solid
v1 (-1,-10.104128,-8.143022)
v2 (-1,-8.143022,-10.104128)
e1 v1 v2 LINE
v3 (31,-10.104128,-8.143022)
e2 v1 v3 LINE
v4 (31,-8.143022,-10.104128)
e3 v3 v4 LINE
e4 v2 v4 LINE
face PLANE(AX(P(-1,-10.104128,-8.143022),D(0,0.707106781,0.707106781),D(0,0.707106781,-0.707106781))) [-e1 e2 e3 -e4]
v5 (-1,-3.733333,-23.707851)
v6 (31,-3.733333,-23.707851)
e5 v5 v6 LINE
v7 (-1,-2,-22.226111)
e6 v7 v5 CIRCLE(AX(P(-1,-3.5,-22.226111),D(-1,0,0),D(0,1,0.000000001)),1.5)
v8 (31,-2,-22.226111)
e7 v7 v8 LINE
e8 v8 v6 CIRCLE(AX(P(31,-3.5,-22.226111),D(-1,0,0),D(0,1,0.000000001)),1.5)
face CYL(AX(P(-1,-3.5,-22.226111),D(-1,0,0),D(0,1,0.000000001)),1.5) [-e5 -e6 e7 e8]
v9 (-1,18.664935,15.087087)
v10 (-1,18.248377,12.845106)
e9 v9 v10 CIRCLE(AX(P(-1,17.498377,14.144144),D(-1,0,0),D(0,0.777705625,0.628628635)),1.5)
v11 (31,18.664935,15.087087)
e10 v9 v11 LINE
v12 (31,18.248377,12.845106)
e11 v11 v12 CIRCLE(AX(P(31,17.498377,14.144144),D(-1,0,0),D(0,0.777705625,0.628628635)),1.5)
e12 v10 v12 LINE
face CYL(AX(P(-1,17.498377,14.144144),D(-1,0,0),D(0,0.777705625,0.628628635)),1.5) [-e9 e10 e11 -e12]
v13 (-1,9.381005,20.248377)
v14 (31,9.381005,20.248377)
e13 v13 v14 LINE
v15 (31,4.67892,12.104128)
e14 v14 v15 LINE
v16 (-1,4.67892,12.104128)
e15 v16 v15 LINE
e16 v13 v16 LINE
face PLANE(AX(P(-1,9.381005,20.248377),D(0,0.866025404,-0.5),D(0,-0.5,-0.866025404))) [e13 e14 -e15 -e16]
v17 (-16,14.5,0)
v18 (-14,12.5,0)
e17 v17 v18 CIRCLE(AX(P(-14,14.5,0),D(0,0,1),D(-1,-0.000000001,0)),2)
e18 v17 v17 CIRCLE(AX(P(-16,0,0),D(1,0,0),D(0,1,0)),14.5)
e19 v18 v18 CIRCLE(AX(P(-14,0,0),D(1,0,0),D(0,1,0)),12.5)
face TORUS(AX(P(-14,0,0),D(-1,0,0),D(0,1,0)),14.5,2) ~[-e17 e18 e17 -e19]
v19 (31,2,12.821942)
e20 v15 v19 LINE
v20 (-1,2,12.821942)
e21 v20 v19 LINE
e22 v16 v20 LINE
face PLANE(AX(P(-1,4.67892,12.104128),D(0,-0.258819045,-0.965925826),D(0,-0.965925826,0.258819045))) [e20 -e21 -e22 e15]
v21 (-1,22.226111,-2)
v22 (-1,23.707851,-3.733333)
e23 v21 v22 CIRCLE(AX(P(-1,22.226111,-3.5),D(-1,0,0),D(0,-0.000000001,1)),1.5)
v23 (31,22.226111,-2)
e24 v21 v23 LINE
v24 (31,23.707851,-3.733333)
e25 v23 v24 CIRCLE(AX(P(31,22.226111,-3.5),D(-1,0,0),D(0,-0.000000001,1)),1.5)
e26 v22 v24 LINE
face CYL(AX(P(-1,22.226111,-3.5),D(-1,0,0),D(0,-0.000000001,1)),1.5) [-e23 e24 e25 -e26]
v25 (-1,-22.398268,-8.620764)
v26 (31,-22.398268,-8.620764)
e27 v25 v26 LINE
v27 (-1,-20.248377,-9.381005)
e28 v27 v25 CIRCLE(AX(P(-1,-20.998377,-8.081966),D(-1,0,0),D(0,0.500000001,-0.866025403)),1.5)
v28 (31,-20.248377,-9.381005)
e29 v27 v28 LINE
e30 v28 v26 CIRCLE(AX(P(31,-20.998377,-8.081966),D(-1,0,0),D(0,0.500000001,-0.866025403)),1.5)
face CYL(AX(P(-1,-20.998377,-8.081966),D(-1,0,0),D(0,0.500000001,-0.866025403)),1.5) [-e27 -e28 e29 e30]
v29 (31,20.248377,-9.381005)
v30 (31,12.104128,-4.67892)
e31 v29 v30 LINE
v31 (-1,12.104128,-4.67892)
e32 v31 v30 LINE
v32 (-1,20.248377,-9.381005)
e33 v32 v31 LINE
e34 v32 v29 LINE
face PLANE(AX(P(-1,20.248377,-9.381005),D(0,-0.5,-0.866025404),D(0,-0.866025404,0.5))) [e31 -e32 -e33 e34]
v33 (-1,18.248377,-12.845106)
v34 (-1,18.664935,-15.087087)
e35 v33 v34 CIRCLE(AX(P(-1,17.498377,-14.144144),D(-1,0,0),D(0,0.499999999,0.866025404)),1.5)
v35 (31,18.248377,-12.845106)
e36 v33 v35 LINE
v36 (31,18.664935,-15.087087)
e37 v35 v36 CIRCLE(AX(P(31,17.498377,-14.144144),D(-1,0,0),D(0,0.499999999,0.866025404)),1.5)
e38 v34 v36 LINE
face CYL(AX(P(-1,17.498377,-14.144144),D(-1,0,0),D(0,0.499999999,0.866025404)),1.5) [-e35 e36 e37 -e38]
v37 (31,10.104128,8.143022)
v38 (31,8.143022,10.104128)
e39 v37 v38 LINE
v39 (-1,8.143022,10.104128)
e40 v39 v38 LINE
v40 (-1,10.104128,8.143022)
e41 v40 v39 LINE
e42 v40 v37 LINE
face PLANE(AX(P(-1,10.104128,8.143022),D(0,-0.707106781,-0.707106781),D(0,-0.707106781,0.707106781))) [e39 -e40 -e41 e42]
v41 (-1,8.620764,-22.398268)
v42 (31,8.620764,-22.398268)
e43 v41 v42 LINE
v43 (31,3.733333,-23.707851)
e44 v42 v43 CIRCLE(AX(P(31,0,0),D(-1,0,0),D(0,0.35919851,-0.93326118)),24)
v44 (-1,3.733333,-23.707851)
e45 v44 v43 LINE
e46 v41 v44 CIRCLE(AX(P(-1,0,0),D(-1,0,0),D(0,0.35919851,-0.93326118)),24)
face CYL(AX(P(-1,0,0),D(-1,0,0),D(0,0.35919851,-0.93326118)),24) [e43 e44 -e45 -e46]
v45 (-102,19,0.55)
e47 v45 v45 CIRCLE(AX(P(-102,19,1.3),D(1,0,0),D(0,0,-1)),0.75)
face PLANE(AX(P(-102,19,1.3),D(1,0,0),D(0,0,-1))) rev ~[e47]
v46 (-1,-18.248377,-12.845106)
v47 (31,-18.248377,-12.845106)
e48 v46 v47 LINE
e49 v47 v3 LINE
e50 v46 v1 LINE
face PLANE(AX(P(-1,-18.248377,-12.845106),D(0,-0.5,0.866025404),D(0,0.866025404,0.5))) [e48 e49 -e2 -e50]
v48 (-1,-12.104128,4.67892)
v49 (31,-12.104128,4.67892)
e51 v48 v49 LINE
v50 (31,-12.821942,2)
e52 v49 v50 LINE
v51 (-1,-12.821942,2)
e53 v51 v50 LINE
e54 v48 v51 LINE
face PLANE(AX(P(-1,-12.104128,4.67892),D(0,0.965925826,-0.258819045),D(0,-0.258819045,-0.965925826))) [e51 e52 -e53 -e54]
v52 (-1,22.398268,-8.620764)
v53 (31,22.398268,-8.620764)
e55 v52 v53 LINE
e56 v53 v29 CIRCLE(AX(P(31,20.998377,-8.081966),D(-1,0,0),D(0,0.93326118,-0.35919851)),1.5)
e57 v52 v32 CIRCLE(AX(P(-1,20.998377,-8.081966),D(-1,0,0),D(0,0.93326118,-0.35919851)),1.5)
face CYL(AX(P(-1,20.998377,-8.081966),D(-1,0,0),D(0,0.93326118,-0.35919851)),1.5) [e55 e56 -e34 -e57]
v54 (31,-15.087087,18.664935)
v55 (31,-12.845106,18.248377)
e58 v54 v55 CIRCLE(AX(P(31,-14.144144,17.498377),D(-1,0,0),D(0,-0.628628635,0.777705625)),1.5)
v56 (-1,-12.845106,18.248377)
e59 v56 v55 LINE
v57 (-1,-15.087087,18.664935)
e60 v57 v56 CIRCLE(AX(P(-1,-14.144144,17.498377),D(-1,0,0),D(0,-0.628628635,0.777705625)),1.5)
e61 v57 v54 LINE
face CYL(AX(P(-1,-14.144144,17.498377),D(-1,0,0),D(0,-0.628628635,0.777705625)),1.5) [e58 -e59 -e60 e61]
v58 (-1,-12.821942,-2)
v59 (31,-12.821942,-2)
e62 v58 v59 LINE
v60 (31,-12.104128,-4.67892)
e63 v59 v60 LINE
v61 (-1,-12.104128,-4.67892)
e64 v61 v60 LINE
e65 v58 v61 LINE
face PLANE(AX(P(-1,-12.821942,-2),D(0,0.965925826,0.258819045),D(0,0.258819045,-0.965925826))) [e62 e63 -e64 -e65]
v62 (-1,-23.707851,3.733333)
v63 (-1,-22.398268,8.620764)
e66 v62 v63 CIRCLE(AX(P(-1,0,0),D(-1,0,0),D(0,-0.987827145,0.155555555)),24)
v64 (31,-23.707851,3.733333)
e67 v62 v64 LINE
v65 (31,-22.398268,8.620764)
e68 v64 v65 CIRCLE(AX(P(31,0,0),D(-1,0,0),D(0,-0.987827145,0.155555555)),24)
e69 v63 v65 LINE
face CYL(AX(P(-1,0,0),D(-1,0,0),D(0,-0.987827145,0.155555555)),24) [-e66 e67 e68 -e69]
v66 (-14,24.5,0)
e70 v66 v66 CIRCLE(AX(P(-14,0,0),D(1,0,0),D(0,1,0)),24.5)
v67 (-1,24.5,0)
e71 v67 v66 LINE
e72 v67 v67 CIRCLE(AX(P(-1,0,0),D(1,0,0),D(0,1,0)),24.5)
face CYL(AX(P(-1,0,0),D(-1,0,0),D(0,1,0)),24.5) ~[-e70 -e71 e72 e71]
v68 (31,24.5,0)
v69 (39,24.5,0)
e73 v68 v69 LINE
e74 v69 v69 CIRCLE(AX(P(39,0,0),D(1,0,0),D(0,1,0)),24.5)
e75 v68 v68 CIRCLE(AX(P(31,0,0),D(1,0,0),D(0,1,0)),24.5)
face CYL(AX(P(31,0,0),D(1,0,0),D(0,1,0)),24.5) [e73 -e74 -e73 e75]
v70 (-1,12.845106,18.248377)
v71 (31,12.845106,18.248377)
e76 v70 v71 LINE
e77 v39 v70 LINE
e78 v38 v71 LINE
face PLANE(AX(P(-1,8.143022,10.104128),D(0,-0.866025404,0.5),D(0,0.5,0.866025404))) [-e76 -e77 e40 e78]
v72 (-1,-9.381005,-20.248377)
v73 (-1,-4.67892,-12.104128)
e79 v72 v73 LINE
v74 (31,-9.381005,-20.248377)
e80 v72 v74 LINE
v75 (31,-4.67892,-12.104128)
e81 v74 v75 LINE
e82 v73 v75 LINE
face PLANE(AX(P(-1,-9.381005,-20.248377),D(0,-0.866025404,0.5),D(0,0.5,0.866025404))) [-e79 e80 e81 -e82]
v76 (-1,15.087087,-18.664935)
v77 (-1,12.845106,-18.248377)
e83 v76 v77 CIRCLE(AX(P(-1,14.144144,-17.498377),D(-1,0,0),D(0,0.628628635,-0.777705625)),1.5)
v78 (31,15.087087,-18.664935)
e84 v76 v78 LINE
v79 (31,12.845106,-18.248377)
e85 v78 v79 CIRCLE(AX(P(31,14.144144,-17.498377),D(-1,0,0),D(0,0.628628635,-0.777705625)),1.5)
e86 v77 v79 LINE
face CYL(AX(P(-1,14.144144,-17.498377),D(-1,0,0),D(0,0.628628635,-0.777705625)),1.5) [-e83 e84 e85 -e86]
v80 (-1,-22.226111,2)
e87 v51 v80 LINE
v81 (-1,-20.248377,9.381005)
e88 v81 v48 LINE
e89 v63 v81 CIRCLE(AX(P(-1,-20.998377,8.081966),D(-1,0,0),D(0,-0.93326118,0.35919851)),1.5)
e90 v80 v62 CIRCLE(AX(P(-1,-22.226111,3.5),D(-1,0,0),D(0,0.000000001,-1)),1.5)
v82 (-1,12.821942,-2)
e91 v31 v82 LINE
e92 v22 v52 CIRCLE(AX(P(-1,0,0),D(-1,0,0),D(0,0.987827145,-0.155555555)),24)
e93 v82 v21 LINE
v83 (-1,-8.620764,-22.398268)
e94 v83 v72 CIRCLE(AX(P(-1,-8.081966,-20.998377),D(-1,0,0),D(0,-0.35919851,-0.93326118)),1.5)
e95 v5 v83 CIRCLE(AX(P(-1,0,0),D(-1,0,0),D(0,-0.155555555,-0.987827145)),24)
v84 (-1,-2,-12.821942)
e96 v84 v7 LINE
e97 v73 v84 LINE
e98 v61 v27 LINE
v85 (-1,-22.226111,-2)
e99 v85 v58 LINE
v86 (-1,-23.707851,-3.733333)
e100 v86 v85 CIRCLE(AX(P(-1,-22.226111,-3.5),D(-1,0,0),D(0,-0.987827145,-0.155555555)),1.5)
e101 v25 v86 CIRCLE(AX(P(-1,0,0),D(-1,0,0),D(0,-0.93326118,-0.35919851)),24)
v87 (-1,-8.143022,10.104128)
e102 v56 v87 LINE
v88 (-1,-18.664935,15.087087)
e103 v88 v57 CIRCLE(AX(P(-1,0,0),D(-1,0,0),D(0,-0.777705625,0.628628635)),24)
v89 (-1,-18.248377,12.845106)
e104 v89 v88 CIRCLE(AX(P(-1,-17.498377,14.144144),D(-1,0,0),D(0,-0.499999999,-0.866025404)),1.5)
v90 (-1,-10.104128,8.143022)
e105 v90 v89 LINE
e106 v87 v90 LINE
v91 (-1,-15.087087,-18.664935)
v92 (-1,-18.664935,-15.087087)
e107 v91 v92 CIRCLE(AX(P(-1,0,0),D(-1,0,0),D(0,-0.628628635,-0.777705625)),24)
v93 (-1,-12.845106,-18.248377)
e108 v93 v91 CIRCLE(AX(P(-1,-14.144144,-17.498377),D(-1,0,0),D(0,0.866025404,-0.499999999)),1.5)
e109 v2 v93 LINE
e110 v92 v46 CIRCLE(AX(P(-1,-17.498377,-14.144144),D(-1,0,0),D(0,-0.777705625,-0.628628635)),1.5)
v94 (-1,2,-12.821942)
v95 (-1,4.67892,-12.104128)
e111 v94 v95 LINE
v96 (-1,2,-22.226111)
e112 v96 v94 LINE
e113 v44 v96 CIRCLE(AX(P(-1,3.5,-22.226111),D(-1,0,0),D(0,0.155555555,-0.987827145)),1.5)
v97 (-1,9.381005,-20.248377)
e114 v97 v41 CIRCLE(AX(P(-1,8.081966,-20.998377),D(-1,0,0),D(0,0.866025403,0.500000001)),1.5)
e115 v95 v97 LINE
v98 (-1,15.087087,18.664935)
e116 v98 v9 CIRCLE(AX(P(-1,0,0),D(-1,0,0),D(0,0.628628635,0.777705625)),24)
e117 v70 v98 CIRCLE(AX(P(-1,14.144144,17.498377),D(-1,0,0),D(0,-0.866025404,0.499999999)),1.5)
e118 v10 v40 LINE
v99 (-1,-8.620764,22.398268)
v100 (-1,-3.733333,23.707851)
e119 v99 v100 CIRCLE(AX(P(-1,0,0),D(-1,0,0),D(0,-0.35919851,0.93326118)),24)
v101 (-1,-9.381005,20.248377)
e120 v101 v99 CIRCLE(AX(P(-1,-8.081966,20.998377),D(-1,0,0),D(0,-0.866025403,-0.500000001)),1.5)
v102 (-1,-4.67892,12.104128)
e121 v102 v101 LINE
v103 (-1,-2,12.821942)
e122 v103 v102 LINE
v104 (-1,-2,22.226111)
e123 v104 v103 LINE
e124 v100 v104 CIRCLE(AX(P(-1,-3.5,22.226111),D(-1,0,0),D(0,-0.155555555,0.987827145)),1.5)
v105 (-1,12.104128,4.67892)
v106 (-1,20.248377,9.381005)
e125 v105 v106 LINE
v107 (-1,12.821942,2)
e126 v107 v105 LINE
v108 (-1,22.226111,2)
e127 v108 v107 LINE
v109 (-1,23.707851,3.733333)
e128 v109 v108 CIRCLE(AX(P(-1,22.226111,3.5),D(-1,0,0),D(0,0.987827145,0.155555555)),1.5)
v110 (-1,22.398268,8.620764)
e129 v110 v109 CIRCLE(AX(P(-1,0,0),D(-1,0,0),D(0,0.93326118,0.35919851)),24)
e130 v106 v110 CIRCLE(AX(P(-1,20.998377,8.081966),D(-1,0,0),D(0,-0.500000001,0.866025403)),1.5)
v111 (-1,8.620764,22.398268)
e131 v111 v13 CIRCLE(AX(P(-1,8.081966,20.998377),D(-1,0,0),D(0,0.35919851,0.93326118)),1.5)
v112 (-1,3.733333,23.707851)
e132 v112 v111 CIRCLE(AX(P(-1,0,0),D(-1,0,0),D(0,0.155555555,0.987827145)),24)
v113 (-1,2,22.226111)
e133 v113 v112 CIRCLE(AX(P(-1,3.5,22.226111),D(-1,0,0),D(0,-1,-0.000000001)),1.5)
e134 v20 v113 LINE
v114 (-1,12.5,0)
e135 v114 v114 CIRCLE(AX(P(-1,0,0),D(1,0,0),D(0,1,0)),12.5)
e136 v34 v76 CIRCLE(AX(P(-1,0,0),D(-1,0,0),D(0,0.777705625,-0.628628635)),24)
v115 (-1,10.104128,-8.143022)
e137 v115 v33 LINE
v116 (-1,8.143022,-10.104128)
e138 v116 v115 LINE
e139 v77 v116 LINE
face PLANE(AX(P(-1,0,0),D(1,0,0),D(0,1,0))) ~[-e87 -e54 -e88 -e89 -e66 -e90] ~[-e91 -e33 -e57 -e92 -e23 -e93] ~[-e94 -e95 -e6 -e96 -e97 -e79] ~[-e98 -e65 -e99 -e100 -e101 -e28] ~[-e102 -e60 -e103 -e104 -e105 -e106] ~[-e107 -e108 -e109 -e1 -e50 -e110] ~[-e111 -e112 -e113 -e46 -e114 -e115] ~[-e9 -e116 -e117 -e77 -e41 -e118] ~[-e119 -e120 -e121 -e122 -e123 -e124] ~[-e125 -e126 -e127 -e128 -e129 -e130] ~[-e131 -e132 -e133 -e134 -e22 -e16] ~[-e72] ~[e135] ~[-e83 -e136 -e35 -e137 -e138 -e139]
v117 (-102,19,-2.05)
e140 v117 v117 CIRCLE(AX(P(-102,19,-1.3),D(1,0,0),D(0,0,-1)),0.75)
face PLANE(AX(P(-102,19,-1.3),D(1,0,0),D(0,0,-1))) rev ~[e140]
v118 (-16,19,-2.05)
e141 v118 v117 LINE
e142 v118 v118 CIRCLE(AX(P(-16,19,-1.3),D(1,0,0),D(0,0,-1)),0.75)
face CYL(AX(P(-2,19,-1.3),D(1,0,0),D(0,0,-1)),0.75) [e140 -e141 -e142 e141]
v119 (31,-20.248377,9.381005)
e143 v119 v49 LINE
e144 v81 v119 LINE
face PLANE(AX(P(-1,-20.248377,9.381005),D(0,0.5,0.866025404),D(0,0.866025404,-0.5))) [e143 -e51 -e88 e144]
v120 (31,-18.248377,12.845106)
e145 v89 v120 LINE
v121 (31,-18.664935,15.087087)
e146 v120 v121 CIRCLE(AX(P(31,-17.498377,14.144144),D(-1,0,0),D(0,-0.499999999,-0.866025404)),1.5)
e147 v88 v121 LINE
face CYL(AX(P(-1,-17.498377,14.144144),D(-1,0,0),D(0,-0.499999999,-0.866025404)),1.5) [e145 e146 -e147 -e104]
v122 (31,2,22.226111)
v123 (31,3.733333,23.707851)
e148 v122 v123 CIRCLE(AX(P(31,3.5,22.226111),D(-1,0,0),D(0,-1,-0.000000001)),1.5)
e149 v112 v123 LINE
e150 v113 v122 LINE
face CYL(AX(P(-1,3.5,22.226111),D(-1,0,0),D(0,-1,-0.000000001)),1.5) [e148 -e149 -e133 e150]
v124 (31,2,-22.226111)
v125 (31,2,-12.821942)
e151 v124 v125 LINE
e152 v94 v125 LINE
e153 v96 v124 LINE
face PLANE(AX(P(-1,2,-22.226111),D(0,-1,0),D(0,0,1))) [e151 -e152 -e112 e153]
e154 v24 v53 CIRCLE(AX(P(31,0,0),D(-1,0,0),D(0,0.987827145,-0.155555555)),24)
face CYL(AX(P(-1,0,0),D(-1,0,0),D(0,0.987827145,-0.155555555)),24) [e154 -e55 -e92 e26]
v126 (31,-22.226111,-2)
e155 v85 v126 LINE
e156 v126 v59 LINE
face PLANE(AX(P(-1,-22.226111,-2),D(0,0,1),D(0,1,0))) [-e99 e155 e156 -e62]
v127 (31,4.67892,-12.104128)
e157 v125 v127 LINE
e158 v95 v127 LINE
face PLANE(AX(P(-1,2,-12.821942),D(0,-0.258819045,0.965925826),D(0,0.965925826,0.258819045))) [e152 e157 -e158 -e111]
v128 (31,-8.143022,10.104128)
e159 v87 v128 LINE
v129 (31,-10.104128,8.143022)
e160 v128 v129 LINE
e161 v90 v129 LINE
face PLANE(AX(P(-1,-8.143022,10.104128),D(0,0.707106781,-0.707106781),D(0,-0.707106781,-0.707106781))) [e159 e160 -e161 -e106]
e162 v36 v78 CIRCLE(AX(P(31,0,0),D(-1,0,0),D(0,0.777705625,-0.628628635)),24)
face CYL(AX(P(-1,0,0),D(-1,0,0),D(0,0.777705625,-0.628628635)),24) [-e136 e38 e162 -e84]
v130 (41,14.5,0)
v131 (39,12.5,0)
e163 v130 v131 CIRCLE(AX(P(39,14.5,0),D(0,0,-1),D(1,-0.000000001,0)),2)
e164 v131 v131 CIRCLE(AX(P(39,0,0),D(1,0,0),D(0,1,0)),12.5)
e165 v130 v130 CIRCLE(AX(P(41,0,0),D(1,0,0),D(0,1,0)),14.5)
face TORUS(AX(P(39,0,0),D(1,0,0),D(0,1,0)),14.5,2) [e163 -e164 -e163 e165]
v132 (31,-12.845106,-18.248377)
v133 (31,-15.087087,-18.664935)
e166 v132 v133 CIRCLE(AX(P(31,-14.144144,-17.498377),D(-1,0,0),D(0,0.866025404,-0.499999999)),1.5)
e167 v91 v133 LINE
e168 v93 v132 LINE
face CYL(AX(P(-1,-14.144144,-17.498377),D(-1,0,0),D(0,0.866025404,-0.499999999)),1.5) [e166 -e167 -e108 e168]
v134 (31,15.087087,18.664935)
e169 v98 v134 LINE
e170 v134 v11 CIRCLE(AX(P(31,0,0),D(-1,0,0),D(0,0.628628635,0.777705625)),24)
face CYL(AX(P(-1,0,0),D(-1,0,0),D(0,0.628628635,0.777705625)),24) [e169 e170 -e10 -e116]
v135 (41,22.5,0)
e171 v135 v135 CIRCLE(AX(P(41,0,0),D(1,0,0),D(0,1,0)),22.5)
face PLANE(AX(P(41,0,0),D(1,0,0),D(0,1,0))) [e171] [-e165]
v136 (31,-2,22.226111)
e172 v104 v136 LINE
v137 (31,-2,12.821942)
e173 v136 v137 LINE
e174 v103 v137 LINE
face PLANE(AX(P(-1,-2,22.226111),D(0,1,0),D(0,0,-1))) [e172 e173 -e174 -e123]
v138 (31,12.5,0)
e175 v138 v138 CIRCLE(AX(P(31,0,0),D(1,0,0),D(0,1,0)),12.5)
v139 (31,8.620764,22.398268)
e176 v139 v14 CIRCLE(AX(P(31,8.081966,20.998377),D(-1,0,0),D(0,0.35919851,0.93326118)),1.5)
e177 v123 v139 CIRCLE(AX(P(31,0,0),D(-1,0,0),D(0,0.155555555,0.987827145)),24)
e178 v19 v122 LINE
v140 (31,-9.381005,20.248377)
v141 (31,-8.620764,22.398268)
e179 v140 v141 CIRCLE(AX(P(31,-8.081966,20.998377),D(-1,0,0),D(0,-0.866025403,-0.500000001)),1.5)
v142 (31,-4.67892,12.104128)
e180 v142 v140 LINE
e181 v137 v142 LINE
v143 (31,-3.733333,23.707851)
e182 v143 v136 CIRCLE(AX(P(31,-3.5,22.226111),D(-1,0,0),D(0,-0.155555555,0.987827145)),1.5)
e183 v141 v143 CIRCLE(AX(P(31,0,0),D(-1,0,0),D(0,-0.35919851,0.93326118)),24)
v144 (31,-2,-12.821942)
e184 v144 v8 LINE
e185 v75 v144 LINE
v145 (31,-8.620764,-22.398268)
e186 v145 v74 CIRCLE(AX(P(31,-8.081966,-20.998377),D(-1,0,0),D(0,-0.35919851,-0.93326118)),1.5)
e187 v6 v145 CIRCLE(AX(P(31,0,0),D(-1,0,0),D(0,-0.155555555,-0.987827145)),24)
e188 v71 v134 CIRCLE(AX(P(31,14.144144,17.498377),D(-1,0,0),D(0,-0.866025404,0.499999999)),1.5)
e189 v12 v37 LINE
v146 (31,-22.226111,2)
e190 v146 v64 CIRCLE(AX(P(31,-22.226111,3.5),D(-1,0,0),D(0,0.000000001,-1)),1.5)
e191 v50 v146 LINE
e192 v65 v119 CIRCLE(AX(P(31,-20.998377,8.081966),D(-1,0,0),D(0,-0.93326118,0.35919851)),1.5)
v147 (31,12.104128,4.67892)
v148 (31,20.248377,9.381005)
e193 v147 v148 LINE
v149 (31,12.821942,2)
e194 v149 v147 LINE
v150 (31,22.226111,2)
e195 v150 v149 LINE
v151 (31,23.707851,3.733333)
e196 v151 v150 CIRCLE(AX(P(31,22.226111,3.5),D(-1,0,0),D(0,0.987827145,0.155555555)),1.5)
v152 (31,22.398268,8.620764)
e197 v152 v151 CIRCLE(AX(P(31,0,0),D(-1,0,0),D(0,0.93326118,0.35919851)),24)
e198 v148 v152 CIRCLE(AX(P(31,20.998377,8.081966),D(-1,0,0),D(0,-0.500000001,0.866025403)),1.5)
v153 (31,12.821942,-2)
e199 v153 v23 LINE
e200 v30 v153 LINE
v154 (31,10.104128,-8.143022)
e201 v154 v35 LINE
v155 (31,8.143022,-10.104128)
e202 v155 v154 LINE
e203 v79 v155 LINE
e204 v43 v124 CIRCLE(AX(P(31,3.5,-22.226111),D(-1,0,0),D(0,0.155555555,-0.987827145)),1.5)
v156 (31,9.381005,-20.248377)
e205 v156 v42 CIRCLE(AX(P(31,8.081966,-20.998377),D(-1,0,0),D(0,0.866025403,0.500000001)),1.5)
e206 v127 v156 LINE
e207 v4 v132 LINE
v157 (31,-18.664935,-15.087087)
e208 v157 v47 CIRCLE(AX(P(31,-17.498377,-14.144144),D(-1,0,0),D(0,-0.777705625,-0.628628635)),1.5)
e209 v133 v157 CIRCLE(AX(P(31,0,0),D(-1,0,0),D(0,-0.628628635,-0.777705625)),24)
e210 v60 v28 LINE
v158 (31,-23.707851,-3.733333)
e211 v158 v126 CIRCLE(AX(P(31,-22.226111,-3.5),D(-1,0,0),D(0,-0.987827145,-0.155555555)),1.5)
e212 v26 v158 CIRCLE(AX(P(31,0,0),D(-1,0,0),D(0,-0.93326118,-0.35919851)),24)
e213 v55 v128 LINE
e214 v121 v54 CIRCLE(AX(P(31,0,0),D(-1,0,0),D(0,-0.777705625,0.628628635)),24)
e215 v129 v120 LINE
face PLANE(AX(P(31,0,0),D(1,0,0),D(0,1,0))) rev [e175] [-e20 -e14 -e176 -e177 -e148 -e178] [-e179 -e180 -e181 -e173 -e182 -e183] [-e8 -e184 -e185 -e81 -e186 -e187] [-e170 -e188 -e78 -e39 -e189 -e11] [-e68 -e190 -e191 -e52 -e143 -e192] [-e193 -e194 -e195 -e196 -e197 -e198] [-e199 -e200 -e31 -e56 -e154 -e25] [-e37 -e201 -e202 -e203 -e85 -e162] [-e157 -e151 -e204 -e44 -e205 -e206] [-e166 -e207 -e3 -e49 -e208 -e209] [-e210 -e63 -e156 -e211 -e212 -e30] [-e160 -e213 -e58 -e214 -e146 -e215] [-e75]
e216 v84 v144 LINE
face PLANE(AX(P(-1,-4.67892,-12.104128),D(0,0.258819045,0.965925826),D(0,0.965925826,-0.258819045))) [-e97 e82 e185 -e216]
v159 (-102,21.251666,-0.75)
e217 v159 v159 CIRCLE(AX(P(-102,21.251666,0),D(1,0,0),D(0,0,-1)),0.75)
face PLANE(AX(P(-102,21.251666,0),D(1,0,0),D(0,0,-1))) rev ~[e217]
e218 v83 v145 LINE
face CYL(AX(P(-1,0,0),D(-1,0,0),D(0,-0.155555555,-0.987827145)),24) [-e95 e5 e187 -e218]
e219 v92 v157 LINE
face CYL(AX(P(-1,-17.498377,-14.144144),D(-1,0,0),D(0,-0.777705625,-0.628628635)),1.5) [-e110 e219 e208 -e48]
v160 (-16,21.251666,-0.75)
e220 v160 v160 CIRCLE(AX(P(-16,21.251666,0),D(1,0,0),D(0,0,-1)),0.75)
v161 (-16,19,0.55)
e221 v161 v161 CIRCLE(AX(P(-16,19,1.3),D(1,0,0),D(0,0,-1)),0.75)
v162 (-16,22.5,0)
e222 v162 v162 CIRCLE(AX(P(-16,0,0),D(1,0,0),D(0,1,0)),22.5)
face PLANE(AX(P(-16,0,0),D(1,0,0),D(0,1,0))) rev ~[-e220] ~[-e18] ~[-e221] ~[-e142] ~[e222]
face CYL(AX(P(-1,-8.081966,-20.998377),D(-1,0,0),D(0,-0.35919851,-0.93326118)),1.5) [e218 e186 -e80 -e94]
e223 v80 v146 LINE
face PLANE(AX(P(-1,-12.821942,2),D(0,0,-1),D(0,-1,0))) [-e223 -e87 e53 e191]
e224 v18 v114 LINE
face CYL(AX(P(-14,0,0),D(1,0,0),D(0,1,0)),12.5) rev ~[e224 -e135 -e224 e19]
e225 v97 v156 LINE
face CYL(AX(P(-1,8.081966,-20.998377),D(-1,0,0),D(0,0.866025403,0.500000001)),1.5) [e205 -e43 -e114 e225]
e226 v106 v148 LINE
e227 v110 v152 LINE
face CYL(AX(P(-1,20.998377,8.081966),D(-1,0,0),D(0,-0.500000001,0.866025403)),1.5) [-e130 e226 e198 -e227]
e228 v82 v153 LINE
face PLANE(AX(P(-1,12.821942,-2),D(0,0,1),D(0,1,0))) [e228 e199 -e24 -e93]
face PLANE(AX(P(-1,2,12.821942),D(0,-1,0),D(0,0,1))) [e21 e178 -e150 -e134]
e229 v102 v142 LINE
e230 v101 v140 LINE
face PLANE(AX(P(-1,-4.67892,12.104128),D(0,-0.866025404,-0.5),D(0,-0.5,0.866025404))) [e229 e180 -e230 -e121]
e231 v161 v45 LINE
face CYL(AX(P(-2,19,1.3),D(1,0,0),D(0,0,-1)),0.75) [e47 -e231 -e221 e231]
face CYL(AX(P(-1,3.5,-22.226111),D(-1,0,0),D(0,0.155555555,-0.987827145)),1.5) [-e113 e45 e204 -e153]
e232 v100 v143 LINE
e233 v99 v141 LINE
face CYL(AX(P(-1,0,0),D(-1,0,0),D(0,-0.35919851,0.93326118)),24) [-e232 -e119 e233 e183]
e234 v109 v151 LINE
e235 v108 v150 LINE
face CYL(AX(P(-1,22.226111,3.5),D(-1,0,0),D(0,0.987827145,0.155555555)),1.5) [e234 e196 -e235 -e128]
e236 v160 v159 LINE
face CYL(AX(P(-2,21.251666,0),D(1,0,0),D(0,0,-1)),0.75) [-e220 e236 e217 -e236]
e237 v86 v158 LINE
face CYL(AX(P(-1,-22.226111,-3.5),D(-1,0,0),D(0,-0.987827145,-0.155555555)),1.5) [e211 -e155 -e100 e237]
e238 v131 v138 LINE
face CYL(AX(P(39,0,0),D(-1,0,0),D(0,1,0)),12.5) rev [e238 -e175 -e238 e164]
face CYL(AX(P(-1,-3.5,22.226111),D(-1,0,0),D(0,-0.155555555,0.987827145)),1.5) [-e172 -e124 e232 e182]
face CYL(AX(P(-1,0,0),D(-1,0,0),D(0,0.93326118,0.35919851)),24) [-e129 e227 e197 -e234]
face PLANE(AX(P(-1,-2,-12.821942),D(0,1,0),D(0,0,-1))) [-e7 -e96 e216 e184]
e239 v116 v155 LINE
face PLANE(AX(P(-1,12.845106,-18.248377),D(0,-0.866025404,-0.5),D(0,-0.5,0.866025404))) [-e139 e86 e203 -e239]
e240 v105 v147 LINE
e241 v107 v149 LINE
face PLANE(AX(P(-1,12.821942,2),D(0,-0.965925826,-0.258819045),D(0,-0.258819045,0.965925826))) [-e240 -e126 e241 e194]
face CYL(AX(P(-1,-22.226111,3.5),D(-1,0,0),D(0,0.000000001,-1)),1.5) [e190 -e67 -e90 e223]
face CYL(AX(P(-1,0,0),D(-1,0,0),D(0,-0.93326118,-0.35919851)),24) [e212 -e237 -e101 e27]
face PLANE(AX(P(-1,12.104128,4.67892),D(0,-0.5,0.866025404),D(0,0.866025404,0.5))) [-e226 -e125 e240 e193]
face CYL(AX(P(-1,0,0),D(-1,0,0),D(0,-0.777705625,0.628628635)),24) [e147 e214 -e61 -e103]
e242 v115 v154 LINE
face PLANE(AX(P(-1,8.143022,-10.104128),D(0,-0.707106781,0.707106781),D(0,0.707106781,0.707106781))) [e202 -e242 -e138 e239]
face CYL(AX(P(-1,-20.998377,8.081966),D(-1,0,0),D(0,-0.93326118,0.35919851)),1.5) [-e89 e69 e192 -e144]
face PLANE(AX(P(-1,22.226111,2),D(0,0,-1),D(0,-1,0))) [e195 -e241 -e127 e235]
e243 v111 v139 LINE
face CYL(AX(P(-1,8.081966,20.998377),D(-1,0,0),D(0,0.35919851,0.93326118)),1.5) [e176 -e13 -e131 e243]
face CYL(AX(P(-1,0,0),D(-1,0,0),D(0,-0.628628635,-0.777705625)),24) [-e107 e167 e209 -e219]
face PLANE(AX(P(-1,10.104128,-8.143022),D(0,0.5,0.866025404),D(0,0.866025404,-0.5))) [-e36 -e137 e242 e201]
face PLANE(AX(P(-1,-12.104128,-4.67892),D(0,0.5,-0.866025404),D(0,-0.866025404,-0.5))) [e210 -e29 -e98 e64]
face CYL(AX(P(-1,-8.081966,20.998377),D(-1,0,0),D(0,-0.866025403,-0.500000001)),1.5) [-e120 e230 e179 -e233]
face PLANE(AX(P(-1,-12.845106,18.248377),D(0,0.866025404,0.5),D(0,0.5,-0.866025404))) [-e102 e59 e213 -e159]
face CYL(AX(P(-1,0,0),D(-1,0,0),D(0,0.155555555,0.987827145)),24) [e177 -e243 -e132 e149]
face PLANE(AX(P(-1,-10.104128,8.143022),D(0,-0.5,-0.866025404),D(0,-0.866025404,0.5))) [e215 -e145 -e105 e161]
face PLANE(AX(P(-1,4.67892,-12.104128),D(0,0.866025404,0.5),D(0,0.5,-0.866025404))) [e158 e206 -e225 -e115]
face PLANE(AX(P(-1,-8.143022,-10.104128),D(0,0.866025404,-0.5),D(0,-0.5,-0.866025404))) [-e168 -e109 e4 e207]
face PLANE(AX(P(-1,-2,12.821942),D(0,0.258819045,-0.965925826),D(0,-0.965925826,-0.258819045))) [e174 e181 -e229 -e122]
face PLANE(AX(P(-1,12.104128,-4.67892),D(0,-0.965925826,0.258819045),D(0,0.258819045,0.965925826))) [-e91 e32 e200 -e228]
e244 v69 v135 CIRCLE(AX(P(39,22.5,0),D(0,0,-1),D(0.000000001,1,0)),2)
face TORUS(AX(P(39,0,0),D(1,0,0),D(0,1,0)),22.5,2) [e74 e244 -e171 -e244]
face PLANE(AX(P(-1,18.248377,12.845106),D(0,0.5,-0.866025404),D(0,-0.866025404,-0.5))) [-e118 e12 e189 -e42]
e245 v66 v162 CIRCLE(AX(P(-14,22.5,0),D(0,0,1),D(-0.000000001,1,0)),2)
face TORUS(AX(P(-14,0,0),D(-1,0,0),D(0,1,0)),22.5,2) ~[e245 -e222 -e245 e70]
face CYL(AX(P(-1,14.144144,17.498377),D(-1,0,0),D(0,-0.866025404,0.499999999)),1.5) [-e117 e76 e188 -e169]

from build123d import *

# Parameters (mm, degrees)
BOSS_EXTRUDE1_START = -1
BOSS_EXTRUDE1_DEPTH = 32
CIRPATTERN3_COUNT   = 12
BOSS_EXTRUDE2_START = -2
SKETCH5_R           = 0.75
BOSS_EXTRUDE2_DEPTH = 100


with BuildPart() as part:
    # Sketch3 → Boss-Extrude1 (new body)
    with BuildSketch(Plane(origin=(0, 0, 0), x_dir=(0, 0, -1), z_dir=(1, 0, 0)).offset(BOSS_EXTRUDE1_START)):
        with BuildLine():
            Line((-2, 22.226110771), (-2, 12.821942467))
            Line((-2, 12.821942467), (-4.678920426, 12.104127903))
            Line((-4.678920426, 12.104127903), (-9.381004578, 20.248376555))
            ThreePointArc((-9.381004578, 20.248376555), (-9.496151336, 21.498457721), (-8.620764237, 22.398268325))
            ThreePointArc((-8.620764237, 22.398268325), (-6.211657082, 23.182219831), (-3.733333333, 23.707851489))
            ThreePointArc((-3.733333333, 23.707851489), (-2.525320566, 23.366286196), (-2, 22.226110771))
        make_face()
    boss_extrude1 = extrude(amount=BOSS_EXTRUDE1_DEPTH)

    # Sketch4 → Revolve1 (revolve)
    with BuildSketch(Plane.XY):
        with BuildLine():
            Line((-1, 24.5), (-14, 24.5))
            ThreePointArc((-14, 24.5), (-15.414213562, 23.914213562), (-16, 22.5))
            Line((-16, 22.5), (-16, 14.5))
            ThreePointArc((-16, 14.5), (-15.414213562, 13.085786438), (-14, 12.5))
            Line((-14, 12.5), (-1, 12.5))
            Line((-1, 12.5), (-1, 24.5))
        make_face()
        with BuildLine():
            Line((31, 24.5), (39, 24.5))
            ThreePointArc((39, 24.5), (40.414213562, 23.914213562), (41, 22.5))
            Line((41, 22.5), (41, 14.5))
            ThreePointArc((41, 14.5), (40.414213562, 13.085786438), (39, 12.5))
            Line((39, 12.5), (31, 12.5))
            Line((31, 12.5), (31, 24.5))
        make_face()
    revolve(axis=Axis((-2, 0, 0), (1, 0, 0)))

    # CirPattern3: Boss-Extrude1 ×12 about axis
    cirpattern3_axis = Axis((0, 0, 0), (1, 0, 0))
    for i in range(1, CIRPATTERN3_COUNT):
        add(boss_extrude1.rotate(cirpattern3_axis, i * 360 / CIRPATTERN3_COUNT))

    # Sketch5 → Boss-Extrude2 (add)
    with BuildSketch(Plane(origin=(0, 0, 0), x_dir=(0, 0, -1), z_dir=(1, 0, 0)).offset(BOSS_EXTRUDE2_START)):
        with Locations((-1.3, 19)):
            Circle(SKETCH5_R)
        with Locations((0, 21.25166605)):
            Circle(SKETCH5_R)
        with Locations((1.3, 19)):
            Circle(SKETCH5_R)
    extrude(amount=-BOSS_EXTRUDE2_DEPTH)


solid = part.part
